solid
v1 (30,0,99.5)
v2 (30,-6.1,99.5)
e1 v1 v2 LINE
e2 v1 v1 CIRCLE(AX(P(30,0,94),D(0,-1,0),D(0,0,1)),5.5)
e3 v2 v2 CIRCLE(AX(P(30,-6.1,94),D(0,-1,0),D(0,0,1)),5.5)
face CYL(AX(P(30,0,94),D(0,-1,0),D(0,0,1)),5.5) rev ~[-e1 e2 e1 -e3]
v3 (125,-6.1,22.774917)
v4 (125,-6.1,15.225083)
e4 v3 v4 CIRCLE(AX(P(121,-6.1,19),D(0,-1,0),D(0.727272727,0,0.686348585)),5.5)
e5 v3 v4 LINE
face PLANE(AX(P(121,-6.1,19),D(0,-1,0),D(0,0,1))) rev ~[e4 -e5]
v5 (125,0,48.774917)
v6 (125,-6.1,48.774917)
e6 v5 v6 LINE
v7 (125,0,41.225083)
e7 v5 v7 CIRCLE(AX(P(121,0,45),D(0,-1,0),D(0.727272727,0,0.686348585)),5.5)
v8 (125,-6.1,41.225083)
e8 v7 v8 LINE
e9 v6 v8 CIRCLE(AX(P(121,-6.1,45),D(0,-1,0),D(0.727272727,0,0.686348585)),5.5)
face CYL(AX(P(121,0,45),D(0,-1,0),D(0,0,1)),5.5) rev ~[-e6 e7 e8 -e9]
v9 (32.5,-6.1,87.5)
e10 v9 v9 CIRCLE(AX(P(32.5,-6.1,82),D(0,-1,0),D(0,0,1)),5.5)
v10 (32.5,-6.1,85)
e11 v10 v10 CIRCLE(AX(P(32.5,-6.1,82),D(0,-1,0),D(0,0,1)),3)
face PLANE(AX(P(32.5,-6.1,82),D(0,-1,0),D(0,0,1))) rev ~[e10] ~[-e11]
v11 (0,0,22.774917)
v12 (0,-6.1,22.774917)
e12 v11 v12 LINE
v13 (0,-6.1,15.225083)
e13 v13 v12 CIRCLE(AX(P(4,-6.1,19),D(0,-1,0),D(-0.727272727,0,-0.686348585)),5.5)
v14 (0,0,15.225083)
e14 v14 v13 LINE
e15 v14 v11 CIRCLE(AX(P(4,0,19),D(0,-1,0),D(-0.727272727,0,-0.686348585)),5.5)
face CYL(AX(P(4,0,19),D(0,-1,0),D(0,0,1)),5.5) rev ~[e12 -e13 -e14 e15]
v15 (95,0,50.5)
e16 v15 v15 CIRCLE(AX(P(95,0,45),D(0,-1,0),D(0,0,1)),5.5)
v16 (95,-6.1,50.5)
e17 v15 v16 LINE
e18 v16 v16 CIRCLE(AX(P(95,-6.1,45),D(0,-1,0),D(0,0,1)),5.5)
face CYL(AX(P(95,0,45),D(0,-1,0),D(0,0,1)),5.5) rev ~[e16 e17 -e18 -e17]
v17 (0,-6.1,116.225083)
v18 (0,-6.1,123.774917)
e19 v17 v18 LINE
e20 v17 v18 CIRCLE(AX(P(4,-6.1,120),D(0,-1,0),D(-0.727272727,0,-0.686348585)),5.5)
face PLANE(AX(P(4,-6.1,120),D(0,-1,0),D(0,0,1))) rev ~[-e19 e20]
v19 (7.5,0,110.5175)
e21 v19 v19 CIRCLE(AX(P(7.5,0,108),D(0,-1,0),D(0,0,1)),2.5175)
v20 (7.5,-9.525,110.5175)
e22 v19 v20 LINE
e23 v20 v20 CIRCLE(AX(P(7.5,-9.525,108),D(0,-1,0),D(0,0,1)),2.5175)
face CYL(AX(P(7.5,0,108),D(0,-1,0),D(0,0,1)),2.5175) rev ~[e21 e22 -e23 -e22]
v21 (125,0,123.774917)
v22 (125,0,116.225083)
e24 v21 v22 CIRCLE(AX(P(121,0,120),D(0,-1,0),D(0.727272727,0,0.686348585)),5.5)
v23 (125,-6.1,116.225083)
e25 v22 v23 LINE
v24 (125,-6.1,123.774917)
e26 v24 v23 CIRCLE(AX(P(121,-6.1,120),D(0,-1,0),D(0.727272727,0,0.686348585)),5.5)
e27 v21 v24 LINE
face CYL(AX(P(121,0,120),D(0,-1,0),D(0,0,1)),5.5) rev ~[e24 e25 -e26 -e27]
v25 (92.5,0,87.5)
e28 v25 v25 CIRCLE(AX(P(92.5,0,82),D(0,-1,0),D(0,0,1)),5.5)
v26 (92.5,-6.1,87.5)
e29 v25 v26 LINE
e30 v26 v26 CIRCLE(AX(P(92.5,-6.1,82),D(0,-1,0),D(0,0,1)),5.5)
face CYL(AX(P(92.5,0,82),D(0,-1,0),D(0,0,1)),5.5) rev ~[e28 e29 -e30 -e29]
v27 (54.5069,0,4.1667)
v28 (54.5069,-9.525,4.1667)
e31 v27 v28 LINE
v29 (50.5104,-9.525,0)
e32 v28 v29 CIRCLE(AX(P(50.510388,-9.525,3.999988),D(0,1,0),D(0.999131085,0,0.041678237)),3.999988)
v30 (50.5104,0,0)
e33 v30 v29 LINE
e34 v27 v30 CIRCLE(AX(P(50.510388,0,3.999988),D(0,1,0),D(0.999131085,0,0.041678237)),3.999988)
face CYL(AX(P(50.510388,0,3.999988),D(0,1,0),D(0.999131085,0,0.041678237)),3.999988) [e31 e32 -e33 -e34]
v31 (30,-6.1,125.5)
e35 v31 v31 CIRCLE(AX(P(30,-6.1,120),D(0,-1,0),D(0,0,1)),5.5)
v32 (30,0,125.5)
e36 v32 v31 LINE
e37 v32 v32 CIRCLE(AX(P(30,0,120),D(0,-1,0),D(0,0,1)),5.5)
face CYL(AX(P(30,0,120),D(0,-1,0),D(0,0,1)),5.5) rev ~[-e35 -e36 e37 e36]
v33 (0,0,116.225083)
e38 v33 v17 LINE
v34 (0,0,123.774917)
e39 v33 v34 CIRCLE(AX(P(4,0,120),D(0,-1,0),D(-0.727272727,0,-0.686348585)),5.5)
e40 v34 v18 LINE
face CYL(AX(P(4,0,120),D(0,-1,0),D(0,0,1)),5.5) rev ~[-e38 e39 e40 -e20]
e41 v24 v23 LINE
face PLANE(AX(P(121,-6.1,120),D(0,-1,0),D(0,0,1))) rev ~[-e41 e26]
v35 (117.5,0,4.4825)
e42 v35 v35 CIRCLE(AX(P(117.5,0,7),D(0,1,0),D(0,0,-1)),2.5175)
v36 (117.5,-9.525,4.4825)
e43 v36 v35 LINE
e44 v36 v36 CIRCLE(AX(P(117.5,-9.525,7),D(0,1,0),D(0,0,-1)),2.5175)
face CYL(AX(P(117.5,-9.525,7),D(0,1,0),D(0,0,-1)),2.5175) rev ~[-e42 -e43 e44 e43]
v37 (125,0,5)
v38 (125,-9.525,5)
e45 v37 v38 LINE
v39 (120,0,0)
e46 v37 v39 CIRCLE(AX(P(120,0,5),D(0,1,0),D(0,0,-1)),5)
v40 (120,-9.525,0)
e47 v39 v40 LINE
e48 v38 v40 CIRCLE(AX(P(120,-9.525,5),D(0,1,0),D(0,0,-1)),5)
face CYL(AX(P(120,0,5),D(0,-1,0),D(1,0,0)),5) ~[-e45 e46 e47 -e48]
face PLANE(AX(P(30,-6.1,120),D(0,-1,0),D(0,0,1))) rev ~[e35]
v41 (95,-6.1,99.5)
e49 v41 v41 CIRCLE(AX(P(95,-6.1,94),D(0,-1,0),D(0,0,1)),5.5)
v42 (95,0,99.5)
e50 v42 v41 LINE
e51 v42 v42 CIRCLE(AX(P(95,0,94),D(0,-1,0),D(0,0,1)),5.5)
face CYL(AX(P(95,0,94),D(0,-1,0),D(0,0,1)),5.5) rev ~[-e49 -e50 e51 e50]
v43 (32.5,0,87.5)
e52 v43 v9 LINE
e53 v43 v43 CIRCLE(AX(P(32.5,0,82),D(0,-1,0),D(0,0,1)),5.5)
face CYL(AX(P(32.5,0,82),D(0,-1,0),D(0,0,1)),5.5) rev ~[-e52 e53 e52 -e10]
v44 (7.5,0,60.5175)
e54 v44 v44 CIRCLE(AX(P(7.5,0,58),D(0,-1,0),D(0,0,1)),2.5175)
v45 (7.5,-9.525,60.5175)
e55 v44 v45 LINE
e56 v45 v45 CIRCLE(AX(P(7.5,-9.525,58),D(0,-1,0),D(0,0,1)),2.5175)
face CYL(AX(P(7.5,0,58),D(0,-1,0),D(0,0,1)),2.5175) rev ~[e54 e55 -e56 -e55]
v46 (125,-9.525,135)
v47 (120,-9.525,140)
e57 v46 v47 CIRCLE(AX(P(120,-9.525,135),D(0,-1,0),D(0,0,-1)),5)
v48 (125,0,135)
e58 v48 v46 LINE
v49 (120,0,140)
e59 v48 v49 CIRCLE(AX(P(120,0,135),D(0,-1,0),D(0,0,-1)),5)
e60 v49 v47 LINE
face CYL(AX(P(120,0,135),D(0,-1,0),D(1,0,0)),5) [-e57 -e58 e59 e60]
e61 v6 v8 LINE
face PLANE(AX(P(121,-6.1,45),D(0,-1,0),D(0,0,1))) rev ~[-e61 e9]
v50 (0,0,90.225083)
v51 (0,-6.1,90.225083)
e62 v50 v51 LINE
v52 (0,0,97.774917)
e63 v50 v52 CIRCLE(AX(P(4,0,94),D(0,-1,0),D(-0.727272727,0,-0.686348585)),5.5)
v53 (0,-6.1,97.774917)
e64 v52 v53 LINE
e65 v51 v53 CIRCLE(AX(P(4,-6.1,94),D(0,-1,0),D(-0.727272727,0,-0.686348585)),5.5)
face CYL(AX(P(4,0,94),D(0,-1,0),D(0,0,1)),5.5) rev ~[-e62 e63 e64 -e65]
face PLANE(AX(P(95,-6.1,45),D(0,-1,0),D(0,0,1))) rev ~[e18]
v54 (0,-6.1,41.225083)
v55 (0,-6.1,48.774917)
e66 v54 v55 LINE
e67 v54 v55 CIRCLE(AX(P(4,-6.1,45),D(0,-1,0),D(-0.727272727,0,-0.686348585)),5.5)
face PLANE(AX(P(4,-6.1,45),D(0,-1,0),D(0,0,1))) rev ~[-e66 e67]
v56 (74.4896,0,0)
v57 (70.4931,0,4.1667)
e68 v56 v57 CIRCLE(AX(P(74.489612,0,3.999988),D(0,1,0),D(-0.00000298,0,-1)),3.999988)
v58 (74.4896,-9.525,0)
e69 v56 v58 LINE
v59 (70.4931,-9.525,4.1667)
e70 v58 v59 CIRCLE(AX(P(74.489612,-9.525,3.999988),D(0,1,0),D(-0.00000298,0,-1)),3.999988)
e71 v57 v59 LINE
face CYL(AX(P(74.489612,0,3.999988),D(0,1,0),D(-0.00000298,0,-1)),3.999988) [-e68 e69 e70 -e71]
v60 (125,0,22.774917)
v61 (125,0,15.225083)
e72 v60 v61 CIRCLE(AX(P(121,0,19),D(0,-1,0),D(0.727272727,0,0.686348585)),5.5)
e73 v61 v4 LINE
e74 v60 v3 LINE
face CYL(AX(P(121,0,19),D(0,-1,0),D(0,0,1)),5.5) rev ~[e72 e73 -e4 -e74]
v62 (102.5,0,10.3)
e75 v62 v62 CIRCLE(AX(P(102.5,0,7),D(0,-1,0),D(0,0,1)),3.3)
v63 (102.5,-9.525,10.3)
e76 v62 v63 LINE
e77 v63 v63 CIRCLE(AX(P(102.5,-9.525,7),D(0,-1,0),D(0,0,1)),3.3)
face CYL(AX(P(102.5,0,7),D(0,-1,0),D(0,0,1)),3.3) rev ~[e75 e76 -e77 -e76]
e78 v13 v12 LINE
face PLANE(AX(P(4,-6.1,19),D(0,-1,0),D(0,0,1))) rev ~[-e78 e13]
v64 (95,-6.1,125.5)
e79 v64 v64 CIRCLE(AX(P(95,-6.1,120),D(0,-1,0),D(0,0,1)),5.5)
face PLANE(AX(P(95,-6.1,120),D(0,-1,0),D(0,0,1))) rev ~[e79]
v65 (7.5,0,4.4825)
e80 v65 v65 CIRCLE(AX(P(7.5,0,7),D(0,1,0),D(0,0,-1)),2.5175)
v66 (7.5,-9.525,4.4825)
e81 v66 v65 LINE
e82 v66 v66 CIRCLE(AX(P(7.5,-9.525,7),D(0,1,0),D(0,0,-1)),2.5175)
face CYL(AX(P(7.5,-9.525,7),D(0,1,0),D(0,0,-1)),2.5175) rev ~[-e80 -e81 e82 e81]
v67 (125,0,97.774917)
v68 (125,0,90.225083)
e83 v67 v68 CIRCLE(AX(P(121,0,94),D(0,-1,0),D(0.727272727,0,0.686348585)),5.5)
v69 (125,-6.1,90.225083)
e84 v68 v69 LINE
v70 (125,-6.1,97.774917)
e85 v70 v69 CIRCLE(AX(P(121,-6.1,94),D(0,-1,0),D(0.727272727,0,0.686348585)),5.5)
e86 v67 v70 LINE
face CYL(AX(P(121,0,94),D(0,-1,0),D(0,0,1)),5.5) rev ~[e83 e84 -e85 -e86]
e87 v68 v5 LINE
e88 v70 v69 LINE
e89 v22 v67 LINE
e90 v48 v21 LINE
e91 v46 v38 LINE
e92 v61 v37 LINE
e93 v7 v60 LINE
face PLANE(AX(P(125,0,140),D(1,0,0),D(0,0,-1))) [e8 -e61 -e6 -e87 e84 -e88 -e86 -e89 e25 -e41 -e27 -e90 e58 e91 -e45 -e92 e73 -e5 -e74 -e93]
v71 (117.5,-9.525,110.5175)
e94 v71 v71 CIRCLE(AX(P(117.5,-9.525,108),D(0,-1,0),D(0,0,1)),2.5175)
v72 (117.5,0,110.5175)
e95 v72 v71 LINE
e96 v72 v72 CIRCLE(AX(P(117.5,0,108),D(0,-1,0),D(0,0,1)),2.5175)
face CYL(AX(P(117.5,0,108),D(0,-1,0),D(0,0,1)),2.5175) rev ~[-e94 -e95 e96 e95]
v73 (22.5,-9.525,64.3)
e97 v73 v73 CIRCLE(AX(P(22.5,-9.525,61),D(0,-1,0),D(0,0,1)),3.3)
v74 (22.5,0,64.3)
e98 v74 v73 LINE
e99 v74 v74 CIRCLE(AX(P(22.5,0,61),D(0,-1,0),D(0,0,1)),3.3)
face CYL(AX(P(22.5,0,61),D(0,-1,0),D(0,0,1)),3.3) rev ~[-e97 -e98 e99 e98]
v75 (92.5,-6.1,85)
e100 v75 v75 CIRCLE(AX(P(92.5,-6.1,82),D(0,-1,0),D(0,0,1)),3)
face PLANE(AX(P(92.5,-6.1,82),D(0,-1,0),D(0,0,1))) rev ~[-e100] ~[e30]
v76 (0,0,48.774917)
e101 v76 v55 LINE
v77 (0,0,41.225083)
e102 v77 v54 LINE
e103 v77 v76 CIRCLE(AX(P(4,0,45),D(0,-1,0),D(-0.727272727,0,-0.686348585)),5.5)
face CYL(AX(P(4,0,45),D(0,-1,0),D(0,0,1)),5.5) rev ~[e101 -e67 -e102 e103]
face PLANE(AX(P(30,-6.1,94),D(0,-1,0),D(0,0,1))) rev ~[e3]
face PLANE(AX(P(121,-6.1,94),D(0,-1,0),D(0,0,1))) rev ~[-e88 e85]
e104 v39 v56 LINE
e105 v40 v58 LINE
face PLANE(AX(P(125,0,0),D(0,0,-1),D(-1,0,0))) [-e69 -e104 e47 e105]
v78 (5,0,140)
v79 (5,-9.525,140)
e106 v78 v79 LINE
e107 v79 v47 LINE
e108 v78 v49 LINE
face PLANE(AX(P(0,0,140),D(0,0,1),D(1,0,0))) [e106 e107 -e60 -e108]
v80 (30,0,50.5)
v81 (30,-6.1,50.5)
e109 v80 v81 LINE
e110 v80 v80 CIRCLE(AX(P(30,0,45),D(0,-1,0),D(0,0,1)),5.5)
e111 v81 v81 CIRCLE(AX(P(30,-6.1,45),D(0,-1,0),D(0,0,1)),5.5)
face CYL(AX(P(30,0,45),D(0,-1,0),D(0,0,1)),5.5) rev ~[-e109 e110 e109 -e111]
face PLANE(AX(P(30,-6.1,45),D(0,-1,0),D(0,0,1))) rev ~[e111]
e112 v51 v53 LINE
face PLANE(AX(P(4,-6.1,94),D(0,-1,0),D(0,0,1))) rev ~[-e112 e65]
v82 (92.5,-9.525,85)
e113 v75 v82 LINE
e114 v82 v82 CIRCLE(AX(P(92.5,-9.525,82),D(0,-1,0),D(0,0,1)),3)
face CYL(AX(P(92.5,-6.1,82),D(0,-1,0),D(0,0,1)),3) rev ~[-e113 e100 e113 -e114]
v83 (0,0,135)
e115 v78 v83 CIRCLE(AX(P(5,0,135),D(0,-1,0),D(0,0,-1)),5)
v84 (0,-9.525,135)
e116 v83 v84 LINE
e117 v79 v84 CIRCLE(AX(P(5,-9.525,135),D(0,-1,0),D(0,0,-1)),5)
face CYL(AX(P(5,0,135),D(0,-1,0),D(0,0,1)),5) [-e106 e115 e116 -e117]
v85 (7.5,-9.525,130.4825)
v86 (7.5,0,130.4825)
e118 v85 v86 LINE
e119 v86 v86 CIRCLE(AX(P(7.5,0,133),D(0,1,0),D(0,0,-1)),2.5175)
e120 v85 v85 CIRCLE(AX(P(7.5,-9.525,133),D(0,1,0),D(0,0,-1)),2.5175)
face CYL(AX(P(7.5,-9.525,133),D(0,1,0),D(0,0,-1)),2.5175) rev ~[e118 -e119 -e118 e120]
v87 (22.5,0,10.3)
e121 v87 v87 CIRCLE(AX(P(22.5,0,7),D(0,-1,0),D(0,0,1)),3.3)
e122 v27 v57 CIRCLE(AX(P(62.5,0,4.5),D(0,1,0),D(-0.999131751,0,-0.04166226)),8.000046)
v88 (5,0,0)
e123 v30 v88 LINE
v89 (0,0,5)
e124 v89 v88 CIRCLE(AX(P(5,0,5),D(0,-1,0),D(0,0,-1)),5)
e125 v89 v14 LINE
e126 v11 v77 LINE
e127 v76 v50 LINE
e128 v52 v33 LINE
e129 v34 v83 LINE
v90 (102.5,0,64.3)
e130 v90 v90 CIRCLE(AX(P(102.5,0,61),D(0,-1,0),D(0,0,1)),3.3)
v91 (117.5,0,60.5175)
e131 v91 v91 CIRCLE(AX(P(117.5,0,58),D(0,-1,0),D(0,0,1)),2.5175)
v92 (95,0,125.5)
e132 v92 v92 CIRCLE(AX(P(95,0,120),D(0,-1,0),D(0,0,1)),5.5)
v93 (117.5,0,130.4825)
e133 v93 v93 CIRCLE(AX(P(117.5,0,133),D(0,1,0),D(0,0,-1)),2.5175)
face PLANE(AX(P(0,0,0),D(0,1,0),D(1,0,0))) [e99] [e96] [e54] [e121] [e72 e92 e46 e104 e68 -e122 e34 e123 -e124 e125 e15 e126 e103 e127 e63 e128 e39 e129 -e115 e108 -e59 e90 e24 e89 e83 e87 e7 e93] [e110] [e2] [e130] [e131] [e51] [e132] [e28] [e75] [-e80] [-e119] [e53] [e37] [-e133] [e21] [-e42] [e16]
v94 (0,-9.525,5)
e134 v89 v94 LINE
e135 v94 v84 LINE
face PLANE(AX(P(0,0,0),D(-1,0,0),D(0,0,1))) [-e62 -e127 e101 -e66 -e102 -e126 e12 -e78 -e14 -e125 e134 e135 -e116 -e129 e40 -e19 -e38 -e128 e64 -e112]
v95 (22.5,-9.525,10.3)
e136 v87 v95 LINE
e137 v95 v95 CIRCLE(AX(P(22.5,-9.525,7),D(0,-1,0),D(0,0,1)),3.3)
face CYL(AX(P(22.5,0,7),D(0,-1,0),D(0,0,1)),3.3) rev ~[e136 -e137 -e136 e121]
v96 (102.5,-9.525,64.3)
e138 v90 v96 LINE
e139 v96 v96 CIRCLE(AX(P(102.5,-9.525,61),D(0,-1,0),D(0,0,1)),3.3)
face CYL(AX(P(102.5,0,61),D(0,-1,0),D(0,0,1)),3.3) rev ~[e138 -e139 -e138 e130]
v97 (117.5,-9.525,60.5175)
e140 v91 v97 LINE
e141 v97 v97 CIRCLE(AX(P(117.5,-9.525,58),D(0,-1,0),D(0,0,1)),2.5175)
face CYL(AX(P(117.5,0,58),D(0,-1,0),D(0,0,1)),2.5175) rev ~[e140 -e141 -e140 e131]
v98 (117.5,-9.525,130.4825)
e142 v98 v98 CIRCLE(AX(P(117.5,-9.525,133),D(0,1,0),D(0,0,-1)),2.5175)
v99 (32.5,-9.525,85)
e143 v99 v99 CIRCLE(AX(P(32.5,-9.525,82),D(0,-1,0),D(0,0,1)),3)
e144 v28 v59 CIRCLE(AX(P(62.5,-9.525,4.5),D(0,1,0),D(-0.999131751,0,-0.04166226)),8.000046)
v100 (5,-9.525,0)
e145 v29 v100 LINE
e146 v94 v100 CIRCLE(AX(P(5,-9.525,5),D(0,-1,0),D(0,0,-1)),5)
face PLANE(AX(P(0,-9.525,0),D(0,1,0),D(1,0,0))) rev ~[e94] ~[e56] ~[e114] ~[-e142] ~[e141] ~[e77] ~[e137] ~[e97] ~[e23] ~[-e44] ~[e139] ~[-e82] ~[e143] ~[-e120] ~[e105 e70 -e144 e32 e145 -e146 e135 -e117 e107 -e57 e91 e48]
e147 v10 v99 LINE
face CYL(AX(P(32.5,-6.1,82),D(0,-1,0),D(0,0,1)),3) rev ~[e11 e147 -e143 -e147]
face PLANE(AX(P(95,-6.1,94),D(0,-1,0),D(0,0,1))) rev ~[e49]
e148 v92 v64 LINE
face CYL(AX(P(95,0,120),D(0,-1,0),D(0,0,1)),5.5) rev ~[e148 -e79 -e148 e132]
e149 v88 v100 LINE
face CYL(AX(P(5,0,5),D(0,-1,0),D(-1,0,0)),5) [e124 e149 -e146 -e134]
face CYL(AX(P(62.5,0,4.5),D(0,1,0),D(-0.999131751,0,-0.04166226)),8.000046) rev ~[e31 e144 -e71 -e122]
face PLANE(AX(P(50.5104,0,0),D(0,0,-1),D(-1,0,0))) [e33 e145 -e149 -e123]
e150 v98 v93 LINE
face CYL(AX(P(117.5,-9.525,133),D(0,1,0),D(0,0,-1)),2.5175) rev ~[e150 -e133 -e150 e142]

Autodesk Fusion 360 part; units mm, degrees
sketch "Sketch1" plane through (0, 0, 0) normal (0, 1, 0) x (1, 0, 0)
  line L0 (22.5, -7) -> (22.5, -61) construction
  line L1 (121, -45) -> (121, -19) construction
  line L2 (95, -120) -> (121, -120) construction
  line L3 (22.5, -61) -> (102.5, -61) construction
  line L4 (102.5, -61) -> (102.5, -7) construction
  line L5 (95, -94) -> (95, -120) construction
  line L6 (30, -19) -> (4, -19) construction
  line L7 (121, -19) -> (95, -19) construction
  line L8 (32.5, -82) -> (92.5, -82) construction
  line L9 (125, 0) -> (74.4896, 0)
  line L10 (4, -45) -> (30, -45) construction
  arc A0 (54.5069, -4.1667) -> (70.4931, -4.1667) centre (62.5, -4.5) ccw
  line L11 (50.5104, 0) -> (0, 0)
  line L12 (4, -120) -> (30, -120) construction
  line L13 (30, -94) -> (4, -94) construction
  line L14 (102.5, -7) -> (22.5, -7) construction
  arc A1 (74.4896, 0) -> (70.4931, -4.1667) centre (74.4896, -4) ccw
  arc A2 (54.5069, -4.1667) -> (50.5104, 0) centre (50.5104, -4) ccw
  line L15 (30, -120) -> (30, -94) construction
  line L16 (95, -45) -> (121, -45) construction
  line L17 (125, -140) -> (125, 0)
  line L18 (4, -94) -> (4, -120) construction
  line L19 (95, -19) -> (95, -45) construction
  line L20 (121, -94) -> (95, -94) construction
  line L21 (4, -19) -> (4, -45) construction
  line L22 (121, -120) -> (121, -94) construction
  line L23 (30, -45) -> (30, -19) construction
  line L24 (0, -140) -> (125, -140)
  line L25 (62.5, -140) -> (62.5, 80) construction
  line L26 (0, 0) -> (0, -140)
  dimension "d19" = 26
  dimension "d20" = 26
  dimension "d21" = 26
  dimension "d22" = 20
  dimension "d23" = 140
  dimension "d55" = 40
  dimension "d56" = 40
  dimension "d28" = 49
  dimension "d29" = 54
  dimension "d34" = 82
  dimension "d36" = 16
  dimension "d37" = 4.5
  dimension "d39" = 8
  dimension "d44" = 125
  dimension "d45" = 65
  dimension "d46" = 32.5
  dimension "d47" = 60
  dimension "d50" = 30
  dimension "d51" = 7
extrude "Extrude1" add sketch "Sketch1" against normal blind 9.525
hole "Hole2" at (95, 0, 120) at (121, 0, 120) at (121, 0, 94) at (95, 0, 94) at (30, 0, 120) at (30, 0, 94) at (4, 0, 94) at (4, 0, 120) at (121, 0, 45) at (121, 0, 19) at (95, 0, 45) at (30, 0, 45) at (4, 0, 45) at (4, 0, 19) direction (0, -1, 0) diameter 11 depth 6.1 tip angle 180
hole "Hole3" at (92.5, 0, 82) at (32.5, 0, 82) direction (0, -1, 0) diameter 6 depth 10 tip angle 180 counterbore diameter 11 counterbore depth 6.1
fillet "Fillet1" radius 5 4 edges at (125, -4.7625, 140) (125, -4.7625, 0) (0, -4.7625, 0) (0, -4.7625, 140)
sketch "Sketch4" plane through (0, 0, 0) normal (0, 1, 0) x (1, 0, 0)
  arc A0 (0, -135) -> (5, -140) centre (5, -135) ccw construction
  line L0 (0, -5) -> (0, -15.2251) construction
  arc A1 (5, 0) -> (0, -5) centre (5, -5) ccw construction
  line L1 (50.5104, 0) -> (5, 0) construction
  arc A2 (54.5069, -4.1667) -> (50.5104, 0) centre (50.5104, -4) ccw construction
  arc A3 (54.5069, -4.1667) -> (70.4931, -4.1667) centre (62.5, -4.5) ccw construction
  arc A4 (74.4896, 0) -> (70.4931, -4.1667) centre (74.4896, -4) ccw construction
  line L2 (120, 0) -> (74.4896, 0) construction
  arc A5 (125, -5) -> (120, 0) centre (120, -5) ccw construction
  line L3 (125, -135) -> (125, -123.7749) construction
  arc A6 (120, -140) -> (125, -135) centre (120, -135) ccw construction
  line L4 (5, -140) -> (120, -140) construction
  line L5 (7.5, -108) -> (117.5, -108) construction
  line L6 (117.5, -108) -> (117.5, -58) construction
  line L7 (117.5, -58) -> (7.5, -58) construction
  line L8 (7.5, -58) -> (7.5, -108) construction
  line L9 (62.5, -140) -> (62.5, -12.5) construction
  circle A7 centre (92.5, -82) radius 5.5
  circle A8 centre (32.5, -82) radius 5.5
  arc A9 (125, -116.2251) -> (125, -123.7749) centre (121, -120) ccw
  line L10 (125, -116.2251) -> (125, -97.7749)
  arc A10 (125, -90.2251) -> (125, -97.7749) centre (121, -94) ccw
  line L11 (125, -90.2251) -> (125, -48.7749)
  arc A11 (125, -41.2251) -> (125, -48.7749) centre (121, -45) ccw
  line L12 (125, -41.2251) -> (125, -22.7749)
  arc A12 (125, -15.2251) -> (125, -22.7749) centre (121, -19) ccw
  line L13 (125, -15.2251) -> (125, -5)
  arc A13 (0, -22.7749) -> (0, -15.2251) centre (4, -19) ccw
  line L14 (0, -22.7749) -> (0, -41.2251)
  arc A14 (0, -48.7749) -> (0, -41.2251) centre (4, -45) ccw
  line L15 (0, -48.7749) -> (0, -90.2251)
  arc A15 (0, -97.7749) -> (0, -90.2251) centre (4, -94) ccw
  line L16 (0, -97.7749) -> (0, -116.2251)
  arc A16 (0, -123.7749) -> (0, -116.2251) centre (4, -120) ccw
  line L17 (0, -123.7749) -> (0, -135)
  circle A17 centre (30, -45) radius 5.5
  circle A18 centre (30, -94) radius 5.5
  circle A19 centre (95, -94) radius 5.5
  circle A20 centre (95, -120) radius 5.5
  circle A21 centre (30, -120) radius 5.5
  circle A22 centre (95, -45) radius 5.5
  dimension "d73" = 110
  dimension "d74" = 55
  dimension "d76" = 32
  dimension "d90" = 50
hole "Hole1" at (7.5, 0, 108) at (7.5, 0, 58) at (117.5, 0, 108) at (117.5, 0, 58) direction (0, -1, 0) diameter 5.035 depth 10 tip angle 180
thread "Thread1" "ISO Metric profile 6.0 M6x1 6H"
hole "Hole4" at (102.5, 0, 61) at (22.5, 0, 61) at (22.5, 0, 7) at (102.5, 0, 7) direction (0, -1, 0) diameter 6.6 depth 10 tip angle 180
sketch "Sketch5" plane through (0, -9.525, 0) normal (0, -1, 0) x (1, 0, 0)
  circle A0 centre (22.5, 7) radius 3.3
  circle A1 centre (102.5, 61) radius 3.3
  circle A2 centre (22.5, 61) radius 3.3
  circle A3 centre (102.5, 7) radius 3.3
  circle A4 centre (117.5, 108) radius 2.5175
  circle A5 centre (7.5, 108) radius 2.5175
  circle A6 centre (7.5, 58) radius 2.5175
  circle A7 centre (117.5, 58) radius 2.5175
  arc A8 (5, 140) -> (0, 135) centre (5, 135) ccw
  line L0 (0, 135) -> (0, 5)
  arc A9 (0, 5) -> (5, 0) centre (5, 5) ccw
  line L1 (5, 0) -> (50.5104, 0)
  arc A10 (50.5104, 0) -> (54.5069, 4.1667) centre (50.5104, 4) ccw
  arc A11 (70.4931, 4.1667) -> (54.5069, 4.1667) centre (62.5, 4.5) ccw
  arc A12 (70.4931, 4.1667) -> (74.4896, 0) centre (74.4896, 4) ccw
  line L2 (74.4896, 0) -> (120, 0)
  arc A13 (120, 0) -> (125, 5) centre (120, 5) ccw
  line L3 (125, 5) -> (125, 135)
  arc A14 (125, 135) -> (120, 140) centre (120, 135) ccw
  line L4 (120, 140) -> (5, 140)
  circle A15 centre (92.5, 82) radius 3
  circle A16 centre (32.5, 82) radius 3
  line L5 (0, 133) -> (125, 133) construction
  line L6 (62.5, 140) -> (62.5, 75.63) construction
  line L7 (7.5, 133) -> (117.5, 133)
  line L8 (117.5, 133) -> (117.5, 7)
  line L9 (117.5, 7) -> (7.5, 7)
  line L10 (7.5, 7) -> (7.5, 133)
  line L11 (7.5, 133) -> (117.5, 7) construction
  line L12 (117.5, 133) -> (7.5, 7) construction
  point P0 (7.5, 133)
  point P1 (117.5, 133)
  point P2 (62.5, 70)
  dimension "d94" = 55
  dimension "d95" = 110
  dimension "d96" = 7
  dimension "d100" = 7
hole "Hole5" at (7.5, -9.525, 133) at (117.5, -9.525, 133) at (117.5, -9.525, 7) at (7.5, -9.525, 7) direction (0, 1, 0) diameter 5.035 depth 35 tip angle 118
thread "Thread2" "ISO Metric profile 6.0 M6x1 6H"
